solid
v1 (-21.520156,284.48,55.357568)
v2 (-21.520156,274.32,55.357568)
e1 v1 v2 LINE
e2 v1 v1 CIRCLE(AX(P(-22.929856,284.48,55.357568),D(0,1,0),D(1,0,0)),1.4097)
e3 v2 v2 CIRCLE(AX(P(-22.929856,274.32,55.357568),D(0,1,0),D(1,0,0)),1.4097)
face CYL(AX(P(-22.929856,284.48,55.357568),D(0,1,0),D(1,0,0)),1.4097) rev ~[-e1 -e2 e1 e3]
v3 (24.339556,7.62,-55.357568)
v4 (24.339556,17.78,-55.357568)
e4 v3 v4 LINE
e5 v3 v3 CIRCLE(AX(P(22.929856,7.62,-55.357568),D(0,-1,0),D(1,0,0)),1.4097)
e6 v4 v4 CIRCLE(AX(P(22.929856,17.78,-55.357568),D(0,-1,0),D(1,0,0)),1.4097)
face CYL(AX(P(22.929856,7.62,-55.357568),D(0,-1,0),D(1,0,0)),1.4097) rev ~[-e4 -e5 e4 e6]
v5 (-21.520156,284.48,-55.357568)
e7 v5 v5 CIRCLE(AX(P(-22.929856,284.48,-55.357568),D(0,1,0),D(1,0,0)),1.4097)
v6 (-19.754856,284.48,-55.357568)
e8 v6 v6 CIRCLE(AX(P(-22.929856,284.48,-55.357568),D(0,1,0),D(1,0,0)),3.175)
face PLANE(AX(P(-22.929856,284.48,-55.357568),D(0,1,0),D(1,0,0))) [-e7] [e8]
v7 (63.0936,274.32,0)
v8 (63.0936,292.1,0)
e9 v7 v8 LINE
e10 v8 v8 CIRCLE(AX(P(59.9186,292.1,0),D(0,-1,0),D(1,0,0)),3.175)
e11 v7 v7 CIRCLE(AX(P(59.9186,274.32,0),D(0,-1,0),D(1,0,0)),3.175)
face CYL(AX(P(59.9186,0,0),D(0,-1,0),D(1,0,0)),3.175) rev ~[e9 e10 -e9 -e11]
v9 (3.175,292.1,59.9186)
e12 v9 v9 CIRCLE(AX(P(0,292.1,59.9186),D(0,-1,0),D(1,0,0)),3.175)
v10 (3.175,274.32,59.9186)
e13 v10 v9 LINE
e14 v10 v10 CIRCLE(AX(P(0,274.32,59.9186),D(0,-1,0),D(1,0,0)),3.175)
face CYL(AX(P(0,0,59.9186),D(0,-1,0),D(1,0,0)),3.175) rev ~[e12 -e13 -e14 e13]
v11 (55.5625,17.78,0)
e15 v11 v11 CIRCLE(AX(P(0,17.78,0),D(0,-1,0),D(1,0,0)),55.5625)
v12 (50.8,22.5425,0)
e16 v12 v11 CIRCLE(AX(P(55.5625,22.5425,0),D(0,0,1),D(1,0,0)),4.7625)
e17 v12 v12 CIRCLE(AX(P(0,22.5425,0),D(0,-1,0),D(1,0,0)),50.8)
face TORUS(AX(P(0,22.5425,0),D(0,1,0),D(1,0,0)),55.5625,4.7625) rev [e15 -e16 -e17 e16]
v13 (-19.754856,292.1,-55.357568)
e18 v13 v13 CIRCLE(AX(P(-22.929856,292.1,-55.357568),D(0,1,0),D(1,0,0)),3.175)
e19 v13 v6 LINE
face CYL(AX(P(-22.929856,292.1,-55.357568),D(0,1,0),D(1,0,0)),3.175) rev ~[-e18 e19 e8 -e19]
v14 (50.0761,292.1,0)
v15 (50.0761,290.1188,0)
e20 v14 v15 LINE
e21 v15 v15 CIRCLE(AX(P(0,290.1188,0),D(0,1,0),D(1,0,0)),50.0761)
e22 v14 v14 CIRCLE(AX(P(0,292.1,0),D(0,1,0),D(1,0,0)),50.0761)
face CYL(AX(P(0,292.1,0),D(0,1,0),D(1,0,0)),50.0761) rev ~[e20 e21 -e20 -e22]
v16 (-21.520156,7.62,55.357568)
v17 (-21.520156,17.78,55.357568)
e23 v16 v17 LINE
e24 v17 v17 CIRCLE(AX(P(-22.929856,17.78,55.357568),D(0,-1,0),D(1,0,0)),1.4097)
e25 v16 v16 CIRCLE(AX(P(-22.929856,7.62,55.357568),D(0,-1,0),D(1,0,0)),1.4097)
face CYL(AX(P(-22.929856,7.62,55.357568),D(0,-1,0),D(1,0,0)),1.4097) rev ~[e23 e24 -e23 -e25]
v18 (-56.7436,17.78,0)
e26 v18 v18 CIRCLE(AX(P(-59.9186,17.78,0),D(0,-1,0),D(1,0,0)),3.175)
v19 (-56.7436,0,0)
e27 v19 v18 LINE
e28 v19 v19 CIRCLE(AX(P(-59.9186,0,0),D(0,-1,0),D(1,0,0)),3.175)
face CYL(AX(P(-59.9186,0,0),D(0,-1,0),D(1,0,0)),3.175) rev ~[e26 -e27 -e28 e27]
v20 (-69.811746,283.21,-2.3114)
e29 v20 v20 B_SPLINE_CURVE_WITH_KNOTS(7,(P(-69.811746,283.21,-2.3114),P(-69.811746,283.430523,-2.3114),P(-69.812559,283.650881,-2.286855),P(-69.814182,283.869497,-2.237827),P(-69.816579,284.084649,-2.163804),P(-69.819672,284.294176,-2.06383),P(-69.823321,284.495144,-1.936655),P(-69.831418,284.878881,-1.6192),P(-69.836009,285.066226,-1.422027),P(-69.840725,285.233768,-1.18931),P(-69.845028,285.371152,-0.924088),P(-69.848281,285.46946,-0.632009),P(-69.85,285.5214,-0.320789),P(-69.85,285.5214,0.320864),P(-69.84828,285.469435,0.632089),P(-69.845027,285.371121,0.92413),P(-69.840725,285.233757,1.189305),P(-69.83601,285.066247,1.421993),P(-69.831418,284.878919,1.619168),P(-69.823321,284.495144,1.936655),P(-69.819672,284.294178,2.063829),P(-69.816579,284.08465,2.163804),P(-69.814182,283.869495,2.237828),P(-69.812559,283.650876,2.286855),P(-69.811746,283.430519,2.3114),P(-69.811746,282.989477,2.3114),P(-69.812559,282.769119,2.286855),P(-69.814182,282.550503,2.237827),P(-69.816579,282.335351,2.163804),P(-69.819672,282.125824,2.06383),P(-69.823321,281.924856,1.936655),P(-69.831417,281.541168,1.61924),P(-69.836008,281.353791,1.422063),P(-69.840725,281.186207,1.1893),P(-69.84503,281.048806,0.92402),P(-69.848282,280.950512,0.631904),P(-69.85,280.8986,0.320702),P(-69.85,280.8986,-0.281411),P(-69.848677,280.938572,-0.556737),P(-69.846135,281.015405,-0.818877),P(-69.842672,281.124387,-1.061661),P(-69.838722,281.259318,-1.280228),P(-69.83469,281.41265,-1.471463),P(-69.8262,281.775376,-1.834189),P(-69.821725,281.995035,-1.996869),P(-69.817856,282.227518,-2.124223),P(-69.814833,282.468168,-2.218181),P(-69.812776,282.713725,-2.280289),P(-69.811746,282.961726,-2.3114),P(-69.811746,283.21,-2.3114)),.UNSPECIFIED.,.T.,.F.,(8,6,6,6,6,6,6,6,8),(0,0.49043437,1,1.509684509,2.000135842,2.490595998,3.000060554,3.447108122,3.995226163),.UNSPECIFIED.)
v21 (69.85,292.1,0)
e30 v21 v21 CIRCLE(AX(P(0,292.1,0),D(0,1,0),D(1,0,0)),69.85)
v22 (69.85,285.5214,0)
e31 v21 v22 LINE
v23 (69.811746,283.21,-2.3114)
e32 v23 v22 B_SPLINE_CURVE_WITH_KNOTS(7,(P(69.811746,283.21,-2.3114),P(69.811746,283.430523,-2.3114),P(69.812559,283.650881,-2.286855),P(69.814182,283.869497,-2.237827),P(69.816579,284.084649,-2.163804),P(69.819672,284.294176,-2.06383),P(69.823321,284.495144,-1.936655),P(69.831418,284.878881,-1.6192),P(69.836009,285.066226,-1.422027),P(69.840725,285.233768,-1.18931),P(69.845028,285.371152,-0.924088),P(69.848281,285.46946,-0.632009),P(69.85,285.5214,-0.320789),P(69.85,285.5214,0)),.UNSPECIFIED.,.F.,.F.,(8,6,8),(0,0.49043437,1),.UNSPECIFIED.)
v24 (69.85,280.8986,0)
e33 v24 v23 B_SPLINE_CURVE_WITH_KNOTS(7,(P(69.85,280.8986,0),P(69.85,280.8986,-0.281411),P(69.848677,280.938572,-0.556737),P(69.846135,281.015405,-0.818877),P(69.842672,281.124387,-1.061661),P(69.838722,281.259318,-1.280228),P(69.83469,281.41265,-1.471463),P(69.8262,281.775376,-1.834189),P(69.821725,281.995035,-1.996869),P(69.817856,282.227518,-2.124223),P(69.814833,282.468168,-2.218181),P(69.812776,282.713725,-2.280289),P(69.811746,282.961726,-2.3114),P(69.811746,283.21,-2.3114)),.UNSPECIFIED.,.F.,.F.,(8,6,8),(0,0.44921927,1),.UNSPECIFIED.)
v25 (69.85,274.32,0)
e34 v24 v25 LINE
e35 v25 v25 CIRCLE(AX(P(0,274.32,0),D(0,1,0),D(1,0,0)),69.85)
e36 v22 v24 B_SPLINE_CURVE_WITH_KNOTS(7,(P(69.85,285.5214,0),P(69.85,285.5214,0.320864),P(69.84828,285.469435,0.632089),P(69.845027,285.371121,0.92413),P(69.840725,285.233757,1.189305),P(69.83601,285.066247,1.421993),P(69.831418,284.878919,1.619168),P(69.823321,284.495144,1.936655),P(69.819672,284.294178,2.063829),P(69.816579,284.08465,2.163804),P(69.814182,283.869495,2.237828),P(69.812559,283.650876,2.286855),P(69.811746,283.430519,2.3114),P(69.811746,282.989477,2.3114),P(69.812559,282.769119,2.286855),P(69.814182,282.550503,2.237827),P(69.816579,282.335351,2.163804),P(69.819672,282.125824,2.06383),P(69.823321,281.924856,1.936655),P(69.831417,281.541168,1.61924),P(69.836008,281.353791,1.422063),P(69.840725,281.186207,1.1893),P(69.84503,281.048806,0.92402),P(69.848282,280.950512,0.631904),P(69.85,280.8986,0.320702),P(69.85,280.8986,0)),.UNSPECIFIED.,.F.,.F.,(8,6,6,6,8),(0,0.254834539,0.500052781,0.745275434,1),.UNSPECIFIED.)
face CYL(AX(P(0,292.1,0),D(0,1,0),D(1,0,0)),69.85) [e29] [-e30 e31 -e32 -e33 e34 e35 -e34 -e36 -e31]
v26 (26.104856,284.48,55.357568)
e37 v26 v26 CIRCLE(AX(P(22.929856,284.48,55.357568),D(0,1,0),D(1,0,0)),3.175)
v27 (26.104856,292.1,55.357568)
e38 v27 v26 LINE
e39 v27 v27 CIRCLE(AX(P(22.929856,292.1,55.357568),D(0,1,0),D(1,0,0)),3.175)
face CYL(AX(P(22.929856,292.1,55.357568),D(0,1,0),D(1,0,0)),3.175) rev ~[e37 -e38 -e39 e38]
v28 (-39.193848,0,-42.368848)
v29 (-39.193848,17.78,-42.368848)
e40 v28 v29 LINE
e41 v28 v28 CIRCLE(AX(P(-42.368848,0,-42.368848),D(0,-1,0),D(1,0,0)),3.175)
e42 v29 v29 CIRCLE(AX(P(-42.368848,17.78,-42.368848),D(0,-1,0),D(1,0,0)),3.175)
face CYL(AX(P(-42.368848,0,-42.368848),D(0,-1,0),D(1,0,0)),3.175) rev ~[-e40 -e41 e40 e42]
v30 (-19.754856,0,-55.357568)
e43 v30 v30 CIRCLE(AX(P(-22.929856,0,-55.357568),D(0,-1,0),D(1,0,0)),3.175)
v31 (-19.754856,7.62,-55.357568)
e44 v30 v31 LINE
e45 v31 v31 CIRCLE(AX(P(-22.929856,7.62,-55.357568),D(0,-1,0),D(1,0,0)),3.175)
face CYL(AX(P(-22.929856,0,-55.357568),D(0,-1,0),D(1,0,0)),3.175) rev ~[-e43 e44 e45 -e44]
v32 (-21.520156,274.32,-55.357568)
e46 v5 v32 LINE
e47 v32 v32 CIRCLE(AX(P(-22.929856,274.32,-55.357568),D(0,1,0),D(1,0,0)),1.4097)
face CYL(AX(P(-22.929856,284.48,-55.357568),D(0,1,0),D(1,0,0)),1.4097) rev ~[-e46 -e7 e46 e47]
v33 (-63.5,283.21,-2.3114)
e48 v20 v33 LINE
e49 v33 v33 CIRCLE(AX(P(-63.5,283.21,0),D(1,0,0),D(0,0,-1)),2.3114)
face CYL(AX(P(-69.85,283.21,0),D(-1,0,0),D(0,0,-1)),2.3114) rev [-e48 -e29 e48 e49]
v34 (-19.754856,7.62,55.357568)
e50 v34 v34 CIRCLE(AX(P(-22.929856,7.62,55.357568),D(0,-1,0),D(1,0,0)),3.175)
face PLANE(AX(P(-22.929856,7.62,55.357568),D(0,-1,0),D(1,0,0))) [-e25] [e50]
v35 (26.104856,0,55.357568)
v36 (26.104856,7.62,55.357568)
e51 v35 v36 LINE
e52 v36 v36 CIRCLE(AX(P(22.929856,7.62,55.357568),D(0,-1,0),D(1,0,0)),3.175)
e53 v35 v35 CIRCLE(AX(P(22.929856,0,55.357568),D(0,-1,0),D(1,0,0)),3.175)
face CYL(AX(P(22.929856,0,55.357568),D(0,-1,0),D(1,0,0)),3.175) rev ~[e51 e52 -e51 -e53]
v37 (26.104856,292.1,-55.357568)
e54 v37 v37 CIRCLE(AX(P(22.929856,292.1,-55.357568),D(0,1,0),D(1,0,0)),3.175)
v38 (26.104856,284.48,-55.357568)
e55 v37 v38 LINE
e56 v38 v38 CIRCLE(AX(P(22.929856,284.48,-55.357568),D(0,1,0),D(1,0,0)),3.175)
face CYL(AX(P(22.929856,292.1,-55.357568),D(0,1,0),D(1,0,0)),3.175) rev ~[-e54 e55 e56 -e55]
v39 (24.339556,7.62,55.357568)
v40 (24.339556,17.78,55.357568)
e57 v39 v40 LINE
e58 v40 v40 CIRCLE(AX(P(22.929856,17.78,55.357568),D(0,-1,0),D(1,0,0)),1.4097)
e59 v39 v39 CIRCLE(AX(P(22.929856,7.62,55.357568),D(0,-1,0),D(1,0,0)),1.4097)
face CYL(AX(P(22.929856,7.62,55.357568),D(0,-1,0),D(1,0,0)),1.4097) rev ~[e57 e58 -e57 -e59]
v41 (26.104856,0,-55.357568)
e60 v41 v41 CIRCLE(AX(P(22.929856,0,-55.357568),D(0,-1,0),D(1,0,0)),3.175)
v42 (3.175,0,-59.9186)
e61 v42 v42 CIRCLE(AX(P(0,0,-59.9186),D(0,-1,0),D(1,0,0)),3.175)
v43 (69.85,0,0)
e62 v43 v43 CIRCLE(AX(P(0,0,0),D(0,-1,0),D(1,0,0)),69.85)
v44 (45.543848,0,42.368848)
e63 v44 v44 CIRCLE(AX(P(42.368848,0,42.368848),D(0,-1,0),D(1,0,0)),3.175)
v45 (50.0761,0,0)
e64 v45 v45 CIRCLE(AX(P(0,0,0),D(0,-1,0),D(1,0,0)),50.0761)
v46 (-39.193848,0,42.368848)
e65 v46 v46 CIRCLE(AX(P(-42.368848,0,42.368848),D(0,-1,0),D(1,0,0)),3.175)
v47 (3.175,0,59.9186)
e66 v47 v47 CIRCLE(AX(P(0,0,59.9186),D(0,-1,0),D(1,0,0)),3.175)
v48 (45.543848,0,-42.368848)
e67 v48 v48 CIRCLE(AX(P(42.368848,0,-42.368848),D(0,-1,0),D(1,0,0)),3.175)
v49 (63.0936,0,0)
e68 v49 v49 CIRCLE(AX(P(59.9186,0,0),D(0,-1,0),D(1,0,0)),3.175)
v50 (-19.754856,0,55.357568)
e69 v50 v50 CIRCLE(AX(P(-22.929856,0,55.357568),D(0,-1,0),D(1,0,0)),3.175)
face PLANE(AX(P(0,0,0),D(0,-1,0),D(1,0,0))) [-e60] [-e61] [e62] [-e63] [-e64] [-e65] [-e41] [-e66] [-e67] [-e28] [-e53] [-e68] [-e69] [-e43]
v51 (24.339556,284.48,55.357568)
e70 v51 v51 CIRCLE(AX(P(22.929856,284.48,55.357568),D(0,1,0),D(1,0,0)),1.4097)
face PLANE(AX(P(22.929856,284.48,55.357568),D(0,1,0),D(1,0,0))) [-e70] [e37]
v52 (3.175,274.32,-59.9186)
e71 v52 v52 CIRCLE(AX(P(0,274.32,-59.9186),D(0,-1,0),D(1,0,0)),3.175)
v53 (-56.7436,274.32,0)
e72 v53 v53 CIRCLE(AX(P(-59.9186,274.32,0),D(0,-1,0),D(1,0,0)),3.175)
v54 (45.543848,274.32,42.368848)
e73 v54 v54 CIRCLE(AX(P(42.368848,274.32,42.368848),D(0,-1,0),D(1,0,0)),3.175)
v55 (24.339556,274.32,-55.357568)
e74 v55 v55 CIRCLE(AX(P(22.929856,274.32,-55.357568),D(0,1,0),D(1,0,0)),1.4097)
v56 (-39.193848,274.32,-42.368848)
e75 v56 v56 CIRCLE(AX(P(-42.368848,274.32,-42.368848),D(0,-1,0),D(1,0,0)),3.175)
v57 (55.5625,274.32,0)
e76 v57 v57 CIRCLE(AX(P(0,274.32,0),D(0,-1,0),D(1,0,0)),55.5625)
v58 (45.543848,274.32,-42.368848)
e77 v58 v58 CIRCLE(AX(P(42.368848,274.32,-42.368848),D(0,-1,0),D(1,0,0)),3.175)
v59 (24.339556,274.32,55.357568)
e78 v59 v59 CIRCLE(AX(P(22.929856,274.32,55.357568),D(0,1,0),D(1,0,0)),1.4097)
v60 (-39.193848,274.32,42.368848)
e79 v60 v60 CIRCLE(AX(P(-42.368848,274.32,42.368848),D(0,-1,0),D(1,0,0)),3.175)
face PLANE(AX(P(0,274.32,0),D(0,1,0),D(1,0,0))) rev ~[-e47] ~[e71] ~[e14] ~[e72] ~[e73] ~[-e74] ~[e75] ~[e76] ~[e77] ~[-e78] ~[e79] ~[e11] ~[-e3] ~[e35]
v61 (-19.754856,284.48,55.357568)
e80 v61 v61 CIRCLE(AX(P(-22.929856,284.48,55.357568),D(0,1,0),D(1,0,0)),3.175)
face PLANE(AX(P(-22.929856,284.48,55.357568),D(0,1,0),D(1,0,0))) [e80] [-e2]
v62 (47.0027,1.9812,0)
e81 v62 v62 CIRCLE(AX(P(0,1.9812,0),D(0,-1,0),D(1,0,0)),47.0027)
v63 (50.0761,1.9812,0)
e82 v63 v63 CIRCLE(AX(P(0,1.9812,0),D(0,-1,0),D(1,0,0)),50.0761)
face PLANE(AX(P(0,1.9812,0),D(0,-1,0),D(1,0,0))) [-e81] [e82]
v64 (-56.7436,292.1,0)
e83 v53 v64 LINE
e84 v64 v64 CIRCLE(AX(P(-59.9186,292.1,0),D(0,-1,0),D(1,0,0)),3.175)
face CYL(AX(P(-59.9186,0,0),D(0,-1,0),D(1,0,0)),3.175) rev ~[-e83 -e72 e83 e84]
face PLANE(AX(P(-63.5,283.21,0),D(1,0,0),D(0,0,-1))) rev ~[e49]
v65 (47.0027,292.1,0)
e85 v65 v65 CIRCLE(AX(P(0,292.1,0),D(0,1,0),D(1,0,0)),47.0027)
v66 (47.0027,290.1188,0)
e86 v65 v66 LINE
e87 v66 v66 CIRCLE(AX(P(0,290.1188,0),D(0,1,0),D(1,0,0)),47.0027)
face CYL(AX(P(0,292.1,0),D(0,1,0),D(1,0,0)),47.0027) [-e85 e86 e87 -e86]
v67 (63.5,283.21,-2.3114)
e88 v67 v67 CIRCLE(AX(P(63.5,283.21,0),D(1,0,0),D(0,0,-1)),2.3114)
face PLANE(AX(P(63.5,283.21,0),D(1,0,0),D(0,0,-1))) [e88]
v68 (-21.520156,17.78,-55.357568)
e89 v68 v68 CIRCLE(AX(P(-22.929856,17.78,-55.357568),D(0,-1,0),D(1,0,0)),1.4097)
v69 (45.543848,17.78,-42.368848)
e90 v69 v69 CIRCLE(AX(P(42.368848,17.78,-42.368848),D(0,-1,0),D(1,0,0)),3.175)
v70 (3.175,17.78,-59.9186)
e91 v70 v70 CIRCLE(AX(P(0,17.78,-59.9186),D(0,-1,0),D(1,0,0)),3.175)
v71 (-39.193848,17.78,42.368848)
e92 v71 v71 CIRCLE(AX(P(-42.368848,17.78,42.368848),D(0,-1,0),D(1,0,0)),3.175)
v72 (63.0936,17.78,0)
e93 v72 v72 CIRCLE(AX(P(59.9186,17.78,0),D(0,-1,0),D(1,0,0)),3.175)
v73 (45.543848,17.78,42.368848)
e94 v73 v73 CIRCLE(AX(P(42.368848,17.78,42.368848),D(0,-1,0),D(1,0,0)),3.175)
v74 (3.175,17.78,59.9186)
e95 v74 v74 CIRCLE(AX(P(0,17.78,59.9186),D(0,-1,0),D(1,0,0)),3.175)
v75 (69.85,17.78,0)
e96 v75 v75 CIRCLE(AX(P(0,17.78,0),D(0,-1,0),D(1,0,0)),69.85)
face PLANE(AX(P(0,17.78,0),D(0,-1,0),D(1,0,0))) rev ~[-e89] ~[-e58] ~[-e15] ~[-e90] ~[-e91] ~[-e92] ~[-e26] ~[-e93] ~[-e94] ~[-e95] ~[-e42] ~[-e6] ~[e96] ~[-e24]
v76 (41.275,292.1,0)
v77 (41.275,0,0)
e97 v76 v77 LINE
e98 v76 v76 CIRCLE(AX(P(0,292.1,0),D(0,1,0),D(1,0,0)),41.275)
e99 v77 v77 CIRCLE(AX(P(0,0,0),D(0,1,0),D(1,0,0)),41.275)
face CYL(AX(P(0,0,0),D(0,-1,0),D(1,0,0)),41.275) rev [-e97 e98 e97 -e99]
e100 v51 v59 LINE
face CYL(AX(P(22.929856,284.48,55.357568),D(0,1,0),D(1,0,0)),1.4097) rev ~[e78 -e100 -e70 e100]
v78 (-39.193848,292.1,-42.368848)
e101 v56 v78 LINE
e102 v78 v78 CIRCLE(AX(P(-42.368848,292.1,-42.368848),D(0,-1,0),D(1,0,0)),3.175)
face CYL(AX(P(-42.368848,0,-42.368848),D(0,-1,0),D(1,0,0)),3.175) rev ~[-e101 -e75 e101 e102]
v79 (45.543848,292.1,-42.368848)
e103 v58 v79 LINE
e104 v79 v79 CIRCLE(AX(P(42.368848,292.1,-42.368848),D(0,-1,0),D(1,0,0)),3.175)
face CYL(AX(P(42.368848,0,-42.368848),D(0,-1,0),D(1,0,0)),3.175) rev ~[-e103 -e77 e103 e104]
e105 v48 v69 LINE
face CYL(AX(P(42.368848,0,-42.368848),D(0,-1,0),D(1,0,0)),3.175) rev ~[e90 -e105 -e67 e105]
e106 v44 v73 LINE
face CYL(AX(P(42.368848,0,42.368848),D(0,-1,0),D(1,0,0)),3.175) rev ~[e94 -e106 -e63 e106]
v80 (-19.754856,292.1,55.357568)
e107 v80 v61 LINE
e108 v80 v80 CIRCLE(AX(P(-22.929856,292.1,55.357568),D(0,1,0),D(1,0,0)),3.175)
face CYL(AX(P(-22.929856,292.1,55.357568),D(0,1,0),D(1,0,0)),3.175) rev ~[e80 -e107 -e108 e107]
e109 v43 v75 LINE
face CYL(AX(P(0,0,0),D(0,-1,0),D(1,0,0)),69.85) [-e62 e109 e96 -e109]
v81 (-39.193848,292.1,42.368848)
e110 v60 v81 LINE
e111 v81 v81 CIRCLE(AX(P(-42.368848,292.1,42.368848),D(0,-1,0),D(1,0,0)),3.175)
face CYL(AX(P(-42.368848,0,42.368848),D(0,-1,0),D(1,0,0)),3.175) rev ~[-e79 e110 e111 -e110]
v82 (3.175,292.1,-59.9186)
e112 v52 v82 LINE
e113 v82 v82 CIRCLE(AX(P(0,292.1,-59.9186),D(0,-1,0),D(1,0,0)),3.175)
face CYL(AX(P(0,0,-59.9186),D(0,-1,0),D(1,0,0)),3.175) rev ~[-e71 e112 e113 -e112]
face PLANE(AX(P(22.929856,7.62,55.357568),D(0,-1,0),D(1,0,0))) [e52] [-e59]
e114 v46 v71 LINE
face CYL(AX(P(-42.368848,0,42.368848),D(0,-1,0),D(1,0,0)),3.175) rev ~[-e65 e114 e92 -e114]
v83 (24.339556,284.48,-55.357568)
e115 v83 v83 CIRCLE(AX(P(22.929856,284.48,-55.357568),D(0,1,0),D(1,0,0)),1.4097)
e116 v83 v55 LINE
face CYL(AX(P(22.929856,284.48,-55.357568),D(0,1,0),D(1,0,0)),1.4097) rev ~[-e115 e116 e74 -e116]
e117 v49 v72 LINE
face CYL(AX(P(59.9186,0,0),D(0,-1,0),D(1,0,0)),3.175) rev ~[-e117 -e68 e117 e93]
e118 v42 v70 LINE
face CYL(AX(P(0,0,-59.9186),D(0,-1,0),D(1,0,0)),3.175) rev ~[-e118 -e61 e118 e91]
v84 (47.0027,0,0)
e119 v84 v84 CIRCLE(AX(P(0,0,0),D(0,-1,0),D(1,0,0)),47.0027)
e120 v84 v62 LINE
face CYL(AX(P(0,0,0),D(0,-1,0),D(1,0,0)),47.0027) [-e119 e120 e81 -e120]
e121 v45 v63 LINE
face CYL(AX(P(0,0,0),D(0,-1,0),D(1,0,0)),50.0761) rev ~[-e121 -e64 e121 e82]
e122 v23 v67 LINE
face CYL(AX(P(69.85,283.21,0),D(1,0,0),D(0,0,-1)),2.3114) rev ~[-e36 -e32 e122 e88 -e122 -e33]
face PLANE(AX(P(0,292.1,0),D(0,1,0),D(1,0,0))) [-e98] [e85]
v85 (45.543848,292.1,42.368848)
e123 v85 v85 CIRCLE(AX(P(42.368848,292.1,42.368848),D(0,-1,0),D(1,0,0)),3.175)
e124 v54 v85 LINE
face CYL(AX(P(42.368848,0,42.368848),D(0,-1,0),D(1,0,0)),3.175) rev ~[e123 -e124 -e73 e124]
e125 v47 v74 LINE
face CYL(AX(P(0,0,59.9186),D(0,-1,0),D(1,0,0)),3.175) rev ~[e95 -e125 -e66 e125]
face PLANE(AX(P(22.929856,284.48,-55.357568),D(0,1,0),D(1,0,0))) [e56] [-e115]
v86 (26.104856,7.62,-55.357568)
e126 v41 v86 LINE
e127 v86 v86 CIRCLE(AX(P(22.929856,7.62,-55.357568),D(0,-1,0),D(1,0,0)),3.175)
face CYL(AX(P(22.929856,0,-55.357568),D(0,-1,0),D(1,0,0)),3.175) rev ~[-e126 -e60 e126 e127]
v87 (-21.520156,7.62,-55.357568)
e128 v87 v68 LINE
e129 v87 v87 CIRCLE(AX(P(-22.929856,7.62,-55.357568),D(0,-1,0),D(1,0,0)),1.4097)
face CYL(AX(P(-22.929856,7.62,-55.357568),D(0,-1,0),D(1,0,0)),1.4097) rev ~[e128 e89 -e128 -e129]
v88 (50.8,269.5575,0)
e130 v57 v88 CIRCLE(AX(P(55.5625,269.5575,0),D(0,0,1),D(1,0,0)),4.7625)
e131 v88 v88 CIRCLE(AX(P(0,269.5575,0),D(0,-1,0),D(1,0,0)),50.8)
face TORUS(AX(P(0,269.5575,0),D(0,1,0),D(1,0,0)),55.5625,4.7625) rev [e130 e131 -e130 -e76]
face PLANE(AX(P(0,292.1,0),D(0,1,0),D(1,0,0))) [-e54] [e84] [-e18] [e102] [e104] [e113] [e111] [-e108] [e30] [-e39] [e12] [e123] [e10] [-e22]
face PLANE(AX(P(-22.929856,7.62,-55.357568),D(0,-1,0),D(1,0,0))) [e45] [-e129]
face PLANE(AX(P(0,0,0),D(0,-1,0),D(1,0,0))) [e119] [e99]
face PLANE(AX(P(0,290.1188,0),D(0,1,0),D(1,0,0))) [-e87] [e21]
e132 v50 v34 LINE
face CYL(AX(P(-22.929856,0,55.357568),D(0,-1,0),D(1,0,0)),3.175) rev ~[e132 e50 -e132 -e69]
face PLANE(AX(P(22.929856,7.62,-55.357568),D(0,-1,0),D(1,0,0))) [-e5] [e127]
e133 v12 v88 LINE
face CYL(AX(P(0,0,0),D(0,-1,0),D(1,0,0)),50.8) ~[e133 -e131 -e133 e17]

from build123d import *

# Parameters (mm, degrees)
SKETCH2_R               = 50.8
SKETCH2_R_2             = 41.275
BASE_CYLINDER_DEPTH     = 292.1
SKETCH3_R               = 69.85
SKETCH3_R_2             = 41.275
AFT_FLANGE_DEPTH        = 17.78
SKETCH4_R               = 69.85
SKETCH4_R_2             = 41.275
FORWARD_FLANGE_DEPTH    = 17.78
SKETCH6_R               = 50.0761
SKETCH6_R_2             = 47.0027
O_RING_SLOT_1_DEPTH     = 1.9812
SKETCH7_R               = 50.0761
SKETCH7_R_2             = 47.0027
O_RING_SLOT_2_DEPTH     = 1.9812
SKETCH8_R               = 3.175
CUT_EXTRUDE4_DEPTH      = 1
CUT_EXTRUDE4_DEPTH_BACK = 293.1
FILLET1_R               = 4.7625
SKETCH9_R               = 3.175
CUT_EXTRUDE5_DEPTH      = 7.62
SKETCH10_R              = 3.175
CUT_EXTRUDE6_DEPTH      = 7.62
CUT_EXTRUDE7_REACH      = 286.48
SKETCH11_R              = 1.4097
CUT_EXTRUDE8_REACH      = 286.48
SKETCH12_R              = 1.4097
SKETCH13_R              = 2.3114
CUT_EXTRUDE10_DEPTH     = 6.35
SKETCH14_R              = 2.3114
CUT_EXTRUDE11_DEPTH     = 6.35


with BuildPart() as part:
    # Sketch2 → Base Cylinder (new body)
    with BuildSketch(Plane(origin=(0, 0, 0), x_dir=(1, 0, 0), z_dir=(0, 1, 0))):
        Circle(SKETCH2_R)
        Circle(SKETCH2_R_2, mode=Mode.SUBTRACT)
    extrude(amount=BASE_CYLINDER_DEPTH)

    # Sketch3 → Aft Flange (add)
    with BuildSketch(Plane.XZ):
        Circle(SKETCH3_R)
        Circle(SKETCH3_R_2, mode=Mode.SUBTRACT)
    extrude(amount=-AFT_FLANGE_DEPTH)

    # Sketch4 → Forward Flange (add)
    with BuildSketch(Plane(origin=(0, 292.1, 0), x_dir=(1, 0, 0), z_dir=(0, 1, 0))):
        Circle(SKETCH4_R)
        Circle(SKETCH4_R_2, mode=Mode.SUBTRACT)
    extrude(amount=-FORWARD_FLANGE_DEPTH)

    # Sketch6 → O-Ring Slot 1 (cut)
    with BuildSketch(Plane.XZ):
        Circle(SKETCH6_R)
        Circle(SKETCH6_R_2, mode=Mode.SUBTRACT)
    extrude(amount=-O_RING_SLOT_1_DEPTH, mode=Mode.SUBTRACT)

    # Sketch7 → O-Ring Slot 2 (cut)
    with BuildSketch(Plane(origin=(0, 292.1, 0), x_dir=(1, 0, 0), z_dir=(0, 1, 0))):
        Circle(SKETCH7_R)
        Circle(SKETCH7_R_2, mode=Mode.SUBTRACT)
    extrude(amount=-O_RING_SLOT_2_DEPTH, mode=Mode.SUBTRACT)

    # Sketch8 → Cut-Extrude4 (cut, two sides)
    with BuildSketch(Plane.XZ) as cut_extrude4_sk:
        with Locations((-59.9186, 0)):
            Circle(SKETCH8_R)
        with Locations((-42.368848379, 42.368848379)):
            Circle(SKETCH8_R)
        with Locations((0, 59.9186)):
            Circle(SKETCH8_R)
        with Locations((42.368848379, 42.368848379)):
            Circle(SKETCH8_R)
        with Locations((59.9186, 0)):
            Circle(SKETCH8_R)
        with Locations((42.368848379, -42.368848379)):
            Circle(SKETCH8_R)
        with Locations((0, -59.9186)):
            Circle(SKETCH8_R)
        with Locations((-42.368848379, -42.368848379)):
            Circle(SKETCH8_R)
    extrude(amount=CUT_EXTRUDE4_DEPTH, mode=Mode.SUBTRACT)
    extrude(cut_extrude4_sk.sketch, amount=-CUT_EXTRUDE4_DEPTH_BACK, mode=Mode.SUBTRACT)

    # Fillet1
    fillet1_edges = [part.edges().sort_by_distance(p)[0] for p in [
        (-50.8, 17.78, 0),
        (-50.8, 274.32, 0),
    ]]
    fillet(fillet1_edges, radius=FILLET1_R)

    # Sketch9 → Cut-Extrude5 (cut)
    with BuildSketch(Plane(origin=(0, 292.1, 0), x_dir=(1, 0, 0), z_dir=(0, 1, 0))):
        with Locations((-22.929855511, 55.357568157)):
            Circle(SKETCH9_R)
        with Locations((22.929855511, -55.357568157)):
            Circle(SKETCH9_R)
        with Locations((22.929855511, 55.357568157)):
            Circle(SKETCH9_R)
        with Locations((-22.929855511, -55.357568157)):
            Circle(SKETCH9_R)
    extrude(amount=-CUT_EXTRUDE5_DEPTH, mode=Mode.SUBTRACT)

    # Sketch10 → Cut-Extrude6 (cut)
    with BuildSketch(Plane.XZ):
        with Locations((-22.929855511, 55.357568157)):
            Circle(SKETCH10_R)
        with Locations((22.929855511, -55.357568157)):
            Circle(SKETCH10_R)
        with Locations((22.929855511, 55.357568157)):
            Circle(SKETCH10_R)
        with Locations((-22.929855511, -55.357568157)):
            Circle(SKETCH10_R)
    extrude(amount=-CUT_EXTRUDE6_DEPTH, mode=Mode.SUBTRACT)

    # Sketch11 → Cut-Extrude7 (cut, up to next)
    with BuildSketch(Plane(origin=(0, 284.48, 0), x_dir=(1, 0, 0), z_dir=(0, 1, 0)), mode=Mode.PRIVATE) as cut_extrude7_sk1:
        with Locations((-22.929855511, 55.357568157)):
            Circle(SKETCH11_R)
    cut_extrude7_tool1 = extrude(cut_extrude7_sk1.sketch, amount=-CUT_EXTRUDE7_REACH, mode=Mode.PRIVATE) & part.part
    add(cut_extrude7_tool1.solids().sort_by_distance((-22.929856, 284.48, -55.357568))[0], mode=Mode.SUBTRACT)
    # Sketch11 → Cut-Extrude7 (cut, up to next)
    with BuildSketch(Plane(origin=(0, 284.48, 0), x_dir=(1, 0, 0), z_dir=(0, 1, 0)), mode=Mode.PRIVATE) as cut_extrude7_sk2:
        with Locations((22.929855511, 55.357568157)):
            Circle(SKETCH11_R)
    cut_extrude7_tool2 = extrude(cut_extrude7_sk2.sketch, amount=-CUT_EXTRUDE7_REACH, mode=Mode.PRIVATE) & part.part
    add(cut_extrude7_tool2.solids().sort_by_distance((22.929856, 284.48, -55.357568))[0], mode=Mode.SUBTRACT)
    # Sketch11 → Cut-Extrude7 (cut, up to next)
    with BuildSketch(Plane(origin=(0, 284.48, 0), x_dir=(1, 0, 0), z_dir=(0, 1, 0)), mode=Mode.PRIVATE) as cut_extrude7_sk3:
        with Locations((-22.929855511, -55.357568157)):
            Circle(SKETCH11_R)
    cut_extrude7_tool3 = extrude(cut_extrude7_sk3.sketch, amount=-CUT_EXTRUDE7_REACH, mode=Mode.PRIVATE) & part.part
    add(cut_extrude7_tool3.solids().sort_by_distance((-22.929856, 284.48, 55.357568))[0], mode=Mode.SUBTRACT)
    # Sketch11 → Cut-Extrude7 (cut, up to next)
    with BuildSketch(Plane(origin=(0, 284.48, 0), x_dir=(1, 0, 0), z_dir=(0, 1, 0)), mode=Mode.PRIVATE) as cut_extrude7_sk4:
        with Locations((22.929855511, -55.357568157)):
            Circle(SKETCH11_R)
    cut_extrude7_tool4 = extrude(cut_extrude7_sk4.sketch, amount=-CUT_EXTRUDE7_REACH, mode=Mode.PRIVATE) & part.part
    add(cut_extrude7_tool4.solids().sort_by_distance((22.929856, 284.48, 55.357568))[0], mode=Mode.SUBTRACT)

    # Sketch12 → Cut-Extrude8 (cut, up to next)
    with BuildSketch(Plane.XZ.offset(-7.62), mode=Mode.PRIVATE) as cut_extrude8_sk1:
        with Locations((-22.929855511, 55.357568157)):
            Circle(SKETCH12_R)
    cut_extrude8_tool1 = extrude(cut_extrude8_sk1.sketch, amount=-CUT_EXTRUDE8_REACH, mode=Mode.PRIVATE) & part.part
    add(cut_extrude8_tool1.solids().sort_by_distance((-22.929856, 7.62, 55.357568))[0], mode=Mode.SUBTRACT)
    # Sketch12 → Cut-Extrude8 (cut, up to next)
    with BuildSketch(Plane.XZ.offset(-7.62), mode=Mode.PRIVATE) as cut_extrude8_sk2:
        with Locations((22.929855511, 55.357568157)):
            Circle(SKETCH12_R)
    cut_extrude8_tool2 = extrude(cut_extrude8_sk2.sketch, amount=-CUT_EXTRUDE8_REACH, mode=Mode.PRIVATE) & part.part
    add(cut_extrude8_tool2.solids().sort_by_distance((22.929856, 7.62, 55.357568))[0], mode=Mode.SUBTRACT)
    # Sketch12 → Cut-Extrude8 (cut, up to next)
    with BuildSketch(Plane.XZ.offset(-7.62), mode=Mode.PRIVATE) as cut_extrude8_sk3:
        with Locations((-22.929855511, -55.357568157)):
            Circle(SKETCH12_R)
    cut_extrude8_tool3 = extrude(cut_extrude8_sk3.sketch, amount=-CUT_EXTRUDE8_REACH, mode=Mode.PRIVATE) & part.part
    add(cut_extrude8_tool3.solids().sort_by_distance((-22.929856, 7.62, -55.357568))[0], mode=Mode.SUBTRACT)
    # Sketch12 → Cut-Extrude8 (cut, up to next)
    with BuildSketch(Plane.XZ.offset(-7.62), mode=Mode.PRIVATE) as cut_extrude8_sk4:
        with Locations((22.929855511, -55.357568157)):
            Circle(SKETCH12_R)
    cut_extrude8_tool4 = extrude(cut_extrude8_sk4.sketch, amount=-CUT_EXTRUDE8_REACH, mode=Mode.PRIVATE) & part.part
    add(cut_extrude8_tool4.solids().sort_by_distance((22.929856, 7.62, -55.357568))[0], mode=Mode.SUBTRACT)

    # Sketch13 → Cut-Extrude10 (cut)
    with BuildSketch(Plane(origin=(-69.85, 0, 0), x_dir=(0, 0, -1), z_dir=(1, 0, 0))):
        with Locations((0, 283.21)):
            Circle(SKETCH13_R)
    extrude(amount=CUT_EXTRUDE10_DEPTH, mode=Mode.SUBTRACT)

    # Sketch14 → Cut-Extrude11 (cut)
    with BuildSketch(Plane(origin=(69.85, 0, 0), x_dir=(0, 0, -1), z_dir=(1, 0, 0))):
        with Locations((0, 283.21)):
            Circle(SKETCH14_R)
    extrude(amount=-CUT_EXTRUDE11_DEPTH, mode=Mode.SUBTRACT)


solid = part.part
